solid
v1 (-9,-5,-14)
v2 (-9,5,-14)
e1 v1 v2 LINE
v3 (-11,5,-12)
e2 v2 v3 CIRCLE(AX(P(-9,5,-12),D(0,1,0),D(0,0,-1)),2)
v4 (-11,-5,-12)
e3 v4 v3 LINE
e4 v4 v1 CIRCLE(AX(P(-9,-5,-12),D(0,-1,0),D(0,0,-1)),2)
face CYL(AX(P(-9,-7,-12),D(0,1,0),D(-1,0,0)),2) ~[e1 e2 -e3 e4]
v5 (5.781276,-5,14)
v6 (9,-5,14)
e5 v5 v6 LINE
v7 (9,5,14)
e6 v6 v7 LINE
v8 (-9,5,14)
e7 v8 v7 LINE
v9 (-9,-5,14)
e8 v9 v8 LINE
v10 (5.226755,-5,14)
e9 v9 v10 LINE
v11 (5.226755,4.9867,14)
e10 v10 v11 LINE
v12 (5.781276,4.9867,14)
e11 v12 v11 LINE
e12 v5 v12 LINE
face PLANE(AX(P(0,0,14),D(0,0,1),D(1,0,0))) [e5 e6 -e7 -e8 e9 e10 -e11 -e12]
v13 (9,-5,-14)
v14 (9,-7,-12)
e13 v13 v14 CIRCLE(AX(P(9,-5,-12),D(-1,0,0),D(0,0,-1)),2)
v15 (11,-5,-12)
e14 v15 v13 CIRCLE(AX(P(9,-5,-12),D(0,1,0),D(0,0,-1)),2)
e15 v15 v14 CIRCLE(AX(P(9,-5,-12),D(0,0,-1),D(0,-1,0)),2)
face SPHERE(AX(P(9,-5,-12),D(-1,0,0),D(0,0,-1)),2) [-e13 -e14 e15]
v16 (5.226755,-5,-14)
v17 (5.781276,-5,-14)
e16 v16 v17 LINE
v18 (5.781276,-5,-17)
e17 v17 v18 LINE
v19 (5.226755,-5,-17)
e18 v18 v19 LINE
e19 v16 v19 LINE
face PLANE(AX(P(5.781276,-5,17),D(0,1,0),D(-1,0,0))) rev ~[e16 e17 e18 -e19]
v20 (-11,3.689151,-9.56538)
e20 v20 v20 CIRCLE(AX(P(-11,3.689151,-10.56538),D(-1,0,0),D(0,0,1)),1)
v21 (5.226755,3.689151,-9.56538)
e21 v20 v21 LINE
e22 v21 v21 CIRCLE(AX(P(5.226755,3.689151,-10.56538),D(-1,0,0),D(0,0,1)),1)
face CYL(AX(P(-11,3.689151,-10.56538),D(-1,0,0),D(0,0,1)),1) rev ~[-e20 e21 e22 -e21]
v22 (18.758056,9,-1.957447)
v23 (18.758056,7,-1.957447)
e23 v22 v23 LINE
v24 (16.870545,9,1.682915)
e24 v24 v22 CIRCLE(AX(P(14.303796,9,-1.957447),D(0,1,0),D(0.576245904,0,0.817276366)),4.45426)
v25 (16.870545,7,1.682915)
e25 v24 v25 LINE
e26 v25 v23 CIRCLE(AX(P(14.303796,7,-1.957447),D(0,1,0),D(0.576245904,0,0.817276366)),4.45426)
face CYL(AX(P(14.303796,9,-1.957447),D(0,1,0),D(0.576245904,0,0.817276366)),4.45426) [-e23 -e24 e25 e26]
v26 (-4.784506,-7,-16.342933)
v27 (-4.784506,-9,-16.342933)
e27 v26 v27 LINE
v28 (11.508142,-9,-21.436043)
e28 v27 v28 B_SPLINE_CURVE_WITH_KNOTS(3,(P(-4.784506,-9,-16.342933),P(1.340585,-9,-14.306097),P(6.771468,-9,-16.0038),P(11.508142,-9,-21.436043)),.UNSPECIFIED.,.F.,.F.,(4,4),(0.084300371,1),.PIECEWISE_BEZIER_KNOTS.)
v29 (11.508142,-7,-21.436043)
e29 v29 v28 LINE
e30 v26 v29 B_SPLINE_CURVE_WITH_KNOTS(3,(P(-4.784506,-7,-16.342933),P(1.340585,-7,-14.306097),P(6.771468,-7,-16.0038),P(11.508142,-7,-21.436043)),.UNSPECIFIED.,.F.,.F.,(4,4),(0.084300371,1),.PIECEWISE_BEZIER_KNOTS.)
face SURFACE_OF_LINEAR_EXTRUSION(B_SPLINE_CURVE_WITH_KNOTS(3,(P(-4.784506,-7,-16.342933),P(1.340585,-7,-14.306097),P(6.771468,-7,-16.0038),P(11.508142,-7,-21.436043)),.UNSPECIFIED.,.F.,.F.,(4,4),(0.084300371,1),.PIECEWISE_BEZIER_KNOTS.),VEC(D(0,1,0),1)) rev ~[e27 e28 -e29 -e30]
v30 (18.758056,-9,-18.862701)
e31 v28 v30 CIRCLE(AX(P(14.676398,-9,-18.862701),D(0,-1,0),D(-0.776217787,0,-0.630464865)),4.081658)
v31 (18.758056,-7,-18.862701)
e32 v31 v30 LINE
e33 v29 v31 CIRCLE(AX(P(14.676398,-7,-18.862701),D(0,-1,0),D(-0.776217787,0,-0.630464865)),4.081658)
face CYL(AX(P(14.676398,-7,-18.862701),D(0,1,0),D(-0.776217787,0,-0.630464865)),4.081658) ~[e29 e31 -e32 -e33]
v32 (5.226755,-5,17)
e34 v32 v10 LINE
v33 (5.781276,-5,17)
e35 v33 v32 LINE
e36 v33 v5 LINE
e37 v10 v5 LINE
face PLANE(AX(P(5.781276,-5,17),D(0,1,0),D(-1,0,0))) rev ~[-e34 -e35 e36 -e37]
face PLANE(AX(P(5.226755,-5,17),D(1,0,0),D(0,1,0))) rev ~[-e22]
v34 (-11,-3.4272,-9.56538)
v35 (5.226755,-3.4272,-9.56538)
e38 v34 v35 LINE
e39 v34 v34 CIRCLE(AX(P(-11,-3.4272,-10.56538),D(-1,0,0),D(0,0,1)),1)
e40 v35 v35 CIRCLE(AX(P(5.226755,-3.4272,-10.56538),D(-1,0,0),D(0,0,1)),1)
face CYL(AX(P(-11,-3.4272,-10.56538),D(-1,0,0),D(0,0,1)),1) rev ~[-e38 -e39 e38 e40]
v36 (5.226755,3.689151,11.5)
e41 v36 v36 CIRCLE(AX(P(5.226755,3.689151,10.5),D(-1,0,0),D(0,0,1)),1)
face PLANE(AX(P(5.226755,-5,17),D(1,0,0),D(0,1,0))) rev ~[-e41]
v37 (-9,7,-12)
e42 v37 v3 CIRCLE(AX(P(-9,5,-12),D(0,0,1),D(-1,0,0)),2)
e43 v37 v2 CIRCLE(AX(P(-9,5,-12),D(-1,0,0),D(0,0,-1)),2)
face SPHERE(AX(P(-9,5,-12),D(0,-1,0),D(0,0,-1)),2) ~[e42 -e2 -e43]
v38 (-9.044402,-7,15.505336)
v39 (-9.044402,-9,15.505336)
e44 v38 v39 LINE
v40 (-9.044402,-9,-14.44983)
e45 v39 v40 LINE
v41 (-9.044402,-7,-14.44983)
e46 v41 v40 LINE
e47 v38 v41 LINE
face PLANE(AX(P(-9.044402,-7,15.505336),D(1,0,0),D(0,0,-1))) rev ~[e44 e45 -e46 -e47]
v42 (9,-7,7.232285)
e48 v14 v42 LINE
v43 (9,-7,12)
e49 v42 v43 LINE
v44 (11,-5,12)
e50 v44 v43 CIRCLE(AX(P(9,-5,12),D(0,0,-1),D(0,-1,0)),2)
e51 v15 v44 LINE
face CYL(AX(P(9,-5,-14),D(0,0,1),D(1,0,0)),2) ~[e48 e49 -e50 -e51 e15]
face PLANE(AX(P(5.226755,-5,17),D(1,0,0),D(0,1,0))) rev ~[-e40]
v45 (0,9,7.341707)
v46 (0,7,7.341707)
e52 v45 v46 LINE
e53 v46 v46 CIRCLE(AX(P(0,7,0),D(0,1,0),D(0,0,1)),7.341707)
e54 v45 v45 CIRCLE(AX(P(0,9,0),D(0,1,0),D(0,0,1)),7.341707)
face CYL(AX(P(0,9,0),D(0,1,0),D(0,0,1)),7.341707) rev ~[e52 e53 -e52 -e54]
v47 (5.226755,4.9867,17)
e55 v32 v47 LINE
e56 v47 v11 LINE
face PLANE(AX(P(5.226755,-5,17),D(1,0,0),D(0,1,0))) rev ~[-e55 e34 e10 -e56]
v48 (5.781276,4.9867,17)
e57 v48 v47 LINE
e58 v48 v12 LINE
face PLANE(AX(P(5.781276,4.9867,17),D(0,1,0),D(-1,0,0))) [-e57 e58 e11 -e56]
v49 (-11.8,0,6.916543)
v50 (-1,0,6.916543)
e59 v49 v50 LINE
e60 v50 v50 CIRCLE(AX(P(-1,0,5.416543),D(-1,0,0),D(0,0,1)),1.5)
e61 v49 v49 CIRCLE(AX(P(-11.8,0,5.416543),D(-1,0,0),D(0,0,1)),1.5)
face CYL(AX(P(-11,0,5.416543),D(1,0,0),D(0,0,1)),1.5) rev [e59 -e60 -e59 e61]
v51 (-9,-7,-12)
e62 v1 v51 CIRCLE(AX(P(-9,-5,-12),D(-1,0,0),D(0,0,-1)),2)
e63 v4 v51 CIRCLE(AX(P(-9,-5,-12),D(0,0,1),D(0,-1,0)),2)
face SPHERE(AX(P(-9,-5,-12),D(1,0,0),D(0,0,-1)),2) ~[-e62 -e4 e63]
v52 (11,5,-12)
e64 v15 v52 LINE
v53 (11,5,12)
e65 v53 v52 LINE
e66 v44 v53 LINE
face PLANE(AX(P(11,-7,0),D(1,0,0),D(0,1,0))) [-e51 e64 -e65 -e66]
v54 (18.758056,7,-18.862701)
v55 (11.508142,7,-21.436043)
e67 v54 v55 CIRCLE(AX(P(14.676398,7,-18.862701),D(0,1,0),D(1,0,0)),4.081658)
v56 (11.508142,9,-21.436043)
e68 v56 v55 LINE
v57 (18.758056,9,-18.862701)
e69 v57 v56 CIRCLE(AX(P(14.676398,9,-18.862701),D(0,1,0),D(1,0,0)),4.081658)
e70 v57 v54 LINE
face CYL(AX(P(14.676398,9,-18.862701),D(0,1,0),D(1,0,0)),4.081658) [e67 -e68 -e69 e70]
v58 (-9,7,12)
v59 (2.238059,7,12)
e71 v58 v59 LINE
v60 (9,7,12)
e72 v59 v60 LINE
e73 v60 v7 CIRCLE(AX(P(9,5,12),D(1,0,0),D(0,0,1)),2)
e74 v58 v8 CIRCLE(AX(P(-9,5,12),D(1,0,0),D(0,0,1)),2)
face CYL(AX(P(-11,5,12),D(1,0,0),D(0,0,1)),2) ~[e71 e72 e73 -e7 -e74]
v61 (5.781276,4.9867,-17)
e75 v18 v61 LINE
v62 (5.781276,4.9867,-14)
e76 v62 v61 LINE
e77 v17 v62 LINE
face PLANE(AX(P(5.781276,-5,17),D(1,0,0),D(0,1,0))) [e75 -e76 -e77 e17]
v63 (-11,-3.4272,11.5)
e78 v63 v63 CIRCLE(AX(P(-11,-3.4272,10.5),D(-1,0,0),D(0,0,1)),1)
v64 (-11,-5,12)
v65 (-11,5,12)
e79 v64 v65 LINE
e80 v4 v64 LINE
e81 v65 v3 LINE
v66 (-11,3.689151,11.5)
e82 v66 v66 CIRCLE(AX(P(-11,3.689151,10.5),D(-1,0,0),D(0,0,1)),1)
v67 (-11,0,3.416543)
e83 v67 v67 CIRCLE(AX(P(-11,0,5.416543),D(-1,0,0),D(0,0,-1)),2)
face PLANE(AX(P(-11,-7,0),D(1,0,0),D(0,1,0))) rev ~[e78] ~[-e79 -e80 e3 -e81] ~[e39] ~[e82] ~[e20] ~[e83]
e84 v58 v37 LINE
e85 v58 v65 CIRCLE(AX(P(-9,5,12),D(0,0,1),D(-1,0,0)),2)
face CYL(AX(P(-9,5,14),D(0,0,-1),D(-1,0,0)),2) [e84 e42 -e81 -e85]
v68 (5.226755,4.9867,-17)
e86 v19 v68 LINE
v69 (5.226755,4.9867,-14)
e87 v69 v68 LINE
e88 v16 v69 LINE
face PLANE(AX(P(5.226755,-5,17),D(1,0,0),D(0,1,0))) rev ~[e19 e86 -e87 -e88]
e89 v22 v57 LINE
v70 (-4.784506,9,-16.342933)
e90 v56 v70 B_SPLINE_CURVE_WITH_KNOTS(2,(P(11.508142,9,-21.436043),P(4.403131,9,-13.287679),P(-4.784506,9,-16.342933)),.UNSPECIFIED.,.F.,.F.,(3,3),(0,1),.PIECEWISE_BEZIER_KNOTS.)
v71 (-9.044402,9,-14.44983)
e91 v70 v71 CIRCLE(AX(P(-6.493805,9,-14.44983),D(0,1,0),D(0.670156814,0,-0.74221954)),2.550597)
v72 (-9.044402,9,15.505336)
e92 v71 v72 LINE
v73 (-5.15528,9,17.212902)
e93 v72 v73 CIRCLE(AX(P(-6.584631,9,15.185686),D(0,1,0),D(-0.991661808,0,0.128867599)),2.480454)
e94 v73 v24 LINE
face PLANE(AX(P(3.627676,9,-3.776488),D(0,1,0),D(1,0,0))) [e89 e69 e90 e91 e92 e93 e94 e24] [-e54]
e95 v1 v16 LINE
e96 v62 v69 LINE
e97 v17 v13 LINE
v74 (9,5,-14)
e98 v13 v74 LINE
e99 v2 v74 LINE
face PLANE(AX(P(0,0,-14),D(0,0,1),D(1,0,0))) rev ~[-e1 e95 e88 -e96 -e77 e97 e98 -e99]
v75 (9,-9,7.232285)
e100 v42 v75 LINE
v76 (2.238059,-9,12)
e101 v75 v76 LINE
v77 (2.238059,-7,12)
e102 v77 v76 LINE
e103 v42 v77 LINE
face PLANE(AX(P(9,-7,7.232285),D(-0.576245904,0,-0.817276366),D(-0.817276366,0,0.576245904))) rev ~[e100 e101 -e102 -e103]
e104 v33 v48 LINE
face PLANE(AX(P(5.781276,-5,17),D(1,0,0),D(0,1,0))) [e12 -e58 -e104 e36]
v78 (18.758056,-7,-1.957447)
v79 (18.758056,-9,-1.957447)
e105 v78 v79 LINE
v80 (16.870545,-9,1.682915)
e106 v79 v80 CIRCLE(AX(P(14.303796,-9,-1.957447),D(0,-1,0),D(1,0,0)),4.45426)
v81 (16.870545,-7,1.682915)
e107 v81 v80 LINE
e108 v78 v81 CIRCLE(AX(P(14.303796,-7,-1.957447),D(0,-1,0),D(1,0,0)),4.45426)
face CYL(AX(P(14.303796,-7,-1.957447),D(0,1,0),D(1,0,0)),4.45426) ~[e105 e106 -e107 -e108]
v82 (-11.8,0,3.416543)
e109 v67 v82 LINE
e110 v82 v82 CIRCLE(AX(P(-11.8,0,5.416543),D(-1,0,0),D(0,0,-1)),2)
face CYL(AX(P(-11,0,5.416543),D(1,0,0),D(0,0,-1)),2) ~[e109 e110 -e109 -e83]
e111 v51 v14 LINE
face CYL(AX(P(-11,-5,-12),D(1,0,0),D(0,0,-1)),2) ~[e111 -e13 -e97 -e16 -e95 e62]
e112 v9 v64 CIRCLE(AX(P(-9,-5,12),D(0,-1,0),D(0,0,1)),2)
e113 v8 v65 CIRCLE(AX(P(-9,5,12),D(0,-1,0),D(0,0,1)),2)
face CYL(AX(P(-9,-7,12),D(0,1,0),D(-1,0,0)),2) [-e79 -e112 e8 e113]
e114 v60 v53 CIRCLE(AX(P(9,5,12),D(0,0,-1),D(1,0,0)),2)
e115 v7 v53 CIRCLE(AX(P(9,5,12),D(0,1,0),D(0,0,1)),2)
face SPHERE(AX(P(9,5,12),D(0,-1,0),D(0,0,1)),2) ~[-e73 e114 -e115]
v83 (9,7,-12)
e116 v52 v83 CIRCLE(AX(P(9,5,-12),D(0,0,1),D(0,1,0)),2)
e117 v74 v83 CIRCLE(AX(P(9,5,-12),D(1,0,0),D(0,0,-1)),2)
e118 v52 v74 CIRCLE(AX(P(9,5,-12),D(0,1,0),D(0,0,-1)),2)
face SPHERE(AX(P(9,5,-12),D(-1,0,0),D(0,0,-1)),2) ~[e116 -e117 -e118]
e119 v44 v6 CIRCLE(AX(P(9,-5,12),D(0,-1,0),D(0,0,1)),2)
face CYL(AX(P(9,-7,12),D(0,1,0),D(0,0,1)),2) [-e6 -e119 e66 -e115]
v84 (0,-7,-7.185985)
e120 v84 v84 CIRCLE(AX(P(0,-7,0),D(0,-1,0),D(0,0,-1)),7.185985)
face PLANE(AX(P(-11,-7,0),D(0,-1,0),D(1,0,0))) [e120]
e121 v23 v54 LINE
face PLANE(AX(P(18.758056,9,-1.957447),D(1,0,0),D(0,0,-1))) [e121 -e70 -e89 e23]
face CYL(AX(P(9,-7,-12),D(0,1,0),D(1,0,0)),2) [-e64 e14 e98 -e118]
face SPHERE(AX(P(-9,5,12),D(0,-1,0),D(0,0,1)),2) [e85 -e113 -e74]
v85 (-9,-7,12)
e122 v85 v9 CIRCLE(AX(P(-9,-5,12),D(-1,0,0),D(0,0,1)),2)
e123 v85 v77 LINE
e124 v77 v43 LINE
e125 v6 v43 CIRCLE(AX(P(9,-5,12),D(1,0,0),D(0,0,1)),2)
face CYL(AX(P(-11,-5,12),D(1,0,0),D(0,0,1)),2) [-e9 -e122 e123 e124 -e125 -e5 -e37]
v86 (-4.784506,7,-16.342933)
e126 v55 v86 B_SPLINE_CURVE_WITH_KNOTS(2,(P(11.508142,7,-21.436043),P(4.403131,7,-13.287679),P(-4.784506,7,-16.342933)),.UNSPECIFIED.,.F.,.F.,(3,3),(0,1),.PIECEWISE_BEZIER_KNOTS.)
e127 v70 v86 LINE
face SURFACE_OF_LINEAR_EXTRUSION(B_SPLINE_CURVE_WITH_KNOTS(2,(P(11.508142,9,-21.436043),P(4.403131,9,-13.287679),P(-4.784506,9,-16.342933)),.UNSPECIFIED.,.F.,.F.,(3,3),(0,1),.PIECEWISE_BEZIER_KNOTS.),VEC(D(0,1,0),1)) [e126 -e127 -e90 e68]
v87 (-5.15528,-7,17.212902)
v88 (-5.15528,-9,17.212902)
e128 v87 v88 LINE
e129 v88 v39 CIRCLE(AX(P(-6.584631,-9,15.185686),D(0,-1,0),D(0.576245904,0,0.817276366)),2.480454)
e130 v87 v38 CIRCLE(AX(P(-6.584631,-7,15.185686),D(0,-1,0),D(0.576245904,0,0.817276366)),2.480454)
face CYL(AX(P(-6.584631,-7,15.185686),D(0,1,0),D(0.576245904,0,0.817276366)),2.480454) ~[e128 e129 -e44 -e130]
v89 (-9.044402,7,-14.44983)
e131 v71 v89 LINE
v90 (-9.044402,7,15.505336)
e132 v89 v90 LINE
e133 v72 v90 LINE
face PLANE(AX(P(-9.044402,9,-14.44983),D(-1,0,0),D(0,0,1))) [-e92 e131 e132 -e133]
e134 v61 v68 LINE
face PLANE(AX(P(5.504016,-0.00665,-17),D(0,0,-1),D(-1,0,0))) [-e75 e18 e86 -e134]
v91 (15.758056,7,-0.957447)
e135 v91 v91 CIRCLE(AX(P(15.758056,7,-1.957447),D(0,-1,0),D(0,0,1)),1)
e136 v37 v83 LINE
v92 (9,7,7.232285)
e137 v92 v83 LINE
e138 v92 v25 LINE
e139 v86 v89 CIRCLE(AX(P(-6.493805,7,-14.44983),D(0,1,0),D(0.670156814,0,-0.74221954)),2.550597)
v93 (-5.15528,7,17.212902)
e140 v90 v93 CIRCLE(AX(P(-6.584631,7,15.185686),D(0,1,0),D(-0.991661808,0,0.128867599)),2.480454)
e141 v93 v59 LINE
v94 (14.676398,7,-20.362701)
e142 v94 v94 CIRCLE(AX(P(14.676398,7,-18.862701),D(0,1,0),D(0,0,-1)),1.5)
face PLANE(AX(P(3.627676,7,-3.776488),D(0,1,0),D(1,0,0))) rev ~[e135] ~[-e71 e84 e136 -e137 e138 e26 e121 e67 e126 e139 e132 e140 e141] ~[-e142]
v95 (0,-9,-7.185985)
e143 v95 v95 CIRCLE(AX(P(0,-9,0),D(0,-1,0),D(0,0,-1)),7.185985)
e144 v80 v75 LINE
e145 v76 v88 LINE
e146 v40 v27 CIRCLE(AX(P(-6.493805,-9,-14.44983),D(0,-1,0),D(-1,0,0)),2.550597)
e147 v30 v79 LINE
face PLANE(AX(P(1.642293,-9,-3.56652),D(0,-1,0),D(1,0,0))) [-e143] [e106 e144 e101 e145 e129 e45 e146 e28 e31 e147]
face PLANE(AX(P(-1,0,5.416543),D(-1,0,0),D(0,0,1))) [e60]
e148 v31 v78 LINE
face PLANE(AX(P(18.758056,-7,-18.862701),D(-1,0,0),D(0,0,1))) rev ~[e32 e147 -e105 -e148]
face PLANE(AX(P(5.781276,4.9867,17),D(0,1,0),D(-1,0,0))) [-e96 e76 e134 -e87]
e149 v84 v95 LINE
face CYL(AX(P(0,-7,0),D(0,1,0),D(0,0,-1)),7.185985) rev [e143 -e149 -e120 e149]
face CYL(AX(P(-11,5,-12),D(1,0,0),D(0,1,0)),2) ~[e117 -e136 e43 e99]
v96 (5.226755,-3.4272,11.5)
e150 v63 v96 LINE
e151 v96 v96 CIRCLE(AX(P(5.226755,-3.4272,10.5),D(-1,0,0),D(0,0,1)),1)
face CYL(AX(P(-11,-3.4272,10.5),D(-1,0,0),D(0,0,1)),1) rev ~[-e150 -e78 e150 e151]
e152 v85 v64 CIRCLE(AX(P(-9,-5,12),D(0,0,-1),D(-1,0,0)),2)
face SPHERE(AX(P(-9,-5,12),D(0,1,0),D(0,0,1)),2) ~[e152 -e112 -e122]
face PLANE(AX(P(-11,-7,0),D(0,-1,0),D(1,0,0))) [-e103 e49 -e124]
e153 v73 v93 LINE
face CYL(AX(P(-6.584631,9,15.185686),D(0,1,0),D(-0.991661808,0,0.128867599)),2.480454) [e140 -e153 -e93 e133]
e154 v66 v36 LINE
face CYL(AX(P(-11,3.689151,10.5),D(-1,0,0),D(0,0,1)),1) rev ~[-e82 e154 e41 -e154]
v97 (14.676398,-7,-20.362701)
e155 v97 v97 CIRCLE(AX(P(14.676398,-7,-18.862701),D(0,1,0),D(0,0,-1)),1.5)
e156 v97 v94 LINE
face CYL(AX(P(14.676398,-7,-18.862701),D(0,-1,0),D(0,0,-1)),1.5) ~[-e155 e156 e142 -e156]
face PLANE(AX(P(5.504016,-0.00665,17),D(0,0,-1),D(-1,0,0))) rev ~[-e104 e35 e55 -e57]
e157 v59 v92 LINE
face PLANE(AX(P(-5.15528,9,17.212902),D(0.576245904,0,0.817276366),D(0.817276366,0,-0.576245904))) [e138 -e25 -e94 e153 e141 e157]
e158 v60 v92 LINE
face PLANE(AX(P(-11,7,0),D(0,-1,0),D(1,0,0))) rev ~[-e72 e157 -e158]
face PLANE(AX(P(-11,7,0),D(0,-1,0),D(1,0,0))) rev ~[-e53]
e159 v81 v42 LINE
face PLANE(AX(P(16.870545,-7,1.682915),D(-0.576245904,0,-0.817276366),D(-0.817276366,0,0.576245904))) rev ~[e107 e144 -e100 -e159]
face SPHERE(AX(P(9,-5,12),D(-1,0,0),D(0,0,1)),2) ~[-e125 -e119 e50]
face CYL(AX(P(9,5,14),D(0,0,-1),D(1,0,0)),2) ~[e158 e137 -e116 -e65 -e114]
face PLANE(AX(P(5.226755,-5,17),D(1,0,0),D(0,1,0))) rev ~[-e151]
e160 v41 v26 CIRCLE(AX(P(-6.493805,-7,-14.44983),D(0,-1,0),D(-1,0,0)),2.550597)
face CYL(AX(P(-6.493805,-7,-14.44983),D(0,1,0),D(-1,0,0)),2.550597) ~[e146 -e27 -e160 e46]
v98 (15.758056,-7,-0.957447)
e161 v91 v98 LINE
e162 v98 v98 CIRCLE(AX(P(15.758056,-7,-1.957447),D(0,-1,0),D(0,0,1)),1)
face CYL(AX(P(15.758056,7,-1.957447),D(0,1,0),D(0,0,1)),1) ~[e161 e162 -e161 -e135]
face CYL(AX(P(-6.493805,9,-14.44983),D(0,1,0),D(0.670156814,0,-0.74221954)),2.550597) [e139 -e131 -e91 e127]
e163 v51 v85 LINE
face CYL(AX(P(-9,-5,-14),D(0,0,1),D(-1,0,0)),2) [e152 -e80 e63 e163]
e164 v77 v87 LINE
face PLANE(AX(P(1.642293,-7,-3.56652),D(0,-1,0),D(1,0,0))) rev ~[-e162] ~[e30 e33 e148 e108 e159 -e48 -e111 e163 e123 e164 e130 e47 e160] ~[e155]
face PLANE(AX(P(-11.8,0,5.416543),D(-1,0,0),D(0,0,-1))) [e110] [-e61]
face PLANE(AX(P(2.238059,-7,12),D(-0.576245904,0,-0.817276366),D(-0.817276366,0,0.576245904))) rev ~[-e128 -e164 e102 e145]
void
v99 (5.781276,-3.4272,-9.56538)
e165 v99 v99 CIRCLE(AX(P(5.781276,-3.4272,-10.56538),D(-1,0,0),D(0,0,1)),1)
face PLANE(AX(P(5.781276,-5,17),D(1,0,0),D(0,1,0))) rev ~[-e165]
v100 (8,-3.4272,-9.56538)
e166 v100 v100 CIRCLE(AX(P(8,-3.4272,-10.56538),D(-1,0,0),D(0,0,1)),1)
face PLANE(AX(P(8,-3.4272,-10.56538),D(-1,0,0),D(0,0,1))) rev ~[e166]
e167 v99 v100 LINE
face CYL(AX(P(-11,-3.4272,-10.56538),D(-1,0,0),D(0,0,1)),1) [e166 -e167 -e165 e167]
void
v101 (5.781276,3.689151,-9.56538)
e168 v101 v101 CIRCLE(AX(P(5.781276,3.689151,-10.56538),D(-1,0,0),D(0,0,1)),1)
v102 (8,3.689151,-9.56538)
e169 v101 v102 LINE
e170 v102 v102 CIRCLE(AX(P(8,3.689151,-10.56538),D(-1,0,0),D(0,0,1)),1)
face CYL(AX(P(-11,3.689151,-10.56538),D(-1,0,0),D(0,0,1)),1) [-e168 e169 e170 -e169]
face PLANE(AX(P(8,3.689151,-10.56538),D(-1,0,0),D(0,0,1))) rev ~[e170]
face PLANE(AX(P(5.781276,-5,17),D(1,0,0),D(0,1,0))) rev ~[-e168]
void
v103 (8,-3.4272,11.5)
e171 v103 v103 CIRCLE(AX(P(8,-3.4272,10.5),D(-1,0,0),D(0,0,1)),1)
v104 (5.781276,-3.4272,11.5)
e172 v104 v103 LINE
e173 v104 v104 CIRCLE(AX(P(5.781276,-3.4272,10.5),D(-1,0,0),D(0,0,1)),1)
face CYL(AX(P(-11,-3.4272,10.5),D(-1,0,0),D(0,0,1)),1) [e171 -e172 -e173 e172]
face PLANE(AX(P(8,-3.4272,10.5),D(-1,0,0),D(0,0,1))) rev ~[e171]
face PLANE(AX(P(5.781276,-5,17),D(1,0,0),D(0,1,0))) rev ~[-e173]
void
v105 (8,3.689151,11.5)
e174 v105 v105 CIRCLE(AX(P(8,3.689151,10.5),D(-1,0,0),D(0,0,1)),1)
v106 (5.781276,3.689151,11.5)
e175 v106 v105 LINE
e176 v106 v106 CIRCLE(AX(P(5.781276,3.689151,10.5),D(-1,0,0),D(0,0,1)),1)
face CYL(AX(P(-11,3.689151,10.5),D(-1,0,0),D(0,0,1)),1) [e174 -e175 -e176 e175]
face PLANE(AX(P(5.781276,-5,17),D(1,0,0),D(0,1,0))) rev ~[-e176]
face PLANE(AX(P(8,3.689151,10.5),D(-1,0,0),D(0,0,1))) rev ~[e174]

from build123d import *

# Parameters (mm, degrees)
SKETCH1_W                = 22
SKETCH1_H                = 14
BOSS_EXTRUDE1_DEPTH      = 14
FILLET1_R                = 2
SKETCH2_R                = 1
CUT_EXTRUDE1_DEPTH       = 19
BOSS_EXTRUDE2_DEPTH      = 3
BOSS_EXTRUDE2_DEPTH_BACK = 31
SKETCH3_W                = 0.554521252
SKETCH3_H                = 9.98669991
SKETCH4_R                = 2
SKETCH4_R_2              = 1.5
BOSS_EXTRUDE3_DEPTH      = 0.8
CUT_EXTRUDE2_START       = -10
SKETCH4_2_R              = 1.5
CUT_EXTRUDE2_DEPTH       = 10
SKETCH5_R                = 7.185985437
BOSS_EXTRUDE5_DEPTH      = 2
BOSS_EXTRUDE6_START      = 2
SKETCH6_R                = 7.341706918
BOSS_EXTRUDE6_DEPTH      = 2
SKETCH7_R                = 1.5
BOSS_EXTRUDE7_DEPTH      = 14
SKETCH8_R                = 1
BOSS_EXTRUDE8_DEPTH      = 14


with BuildPart() as part:
    # Sketch1 → Boss-Extrude1 (new, symmetric)
    with BuildSketch(Plane.XY):
        Rectangle(SKETCH1_W, SKETCH1_H)
    extrude(amount=BOSS_EXTRUDE1_DEPTH, both=True)

    # Fillet1
    fillet1_edges = [part.edges().sort_by_distance(p)[0] for p in [
        (-11, 0, 14),
        (0, -7, 14),
        (11, 0, 14),
        (0, -7, -14),
        (-11, 0, -14),
        (0, 7, -14),
        (11, 0, -14),
        (0, 7, 14),
        (11, -7, 0),
        (-11, -7, 0),
        (-11, 7, 0),
        (11, 7, 0),
    ]]
    fillet(fillet1_edges, radius=FILLET1_R)

    # Sketch2 → Cut-Extrude1 (cut)
    with BuildSketch(Plane.ZY.offset(11)):
        with Locations((-10.565380275, 3.689151377)):
            Circle(SKETCH2_R)
        with Locations((10.5, 3.689151377)):
            Circle(SKETCH2_R)
        with Locations((10.5, -3.4271998)):
            Circle(SKETCH2_R)
        with Locations((-10.565380275, -3.4271998)):
            Circle(SKETCH2_R)
    extrude(amount=-CUT_EXTRUDE1_DEPTH, mode=Mode.SUBTRACT)

    # Sketch3 → Boss-Extrude2 (add, two sides: drawn at the far end of the back side and taken through both)
    with BuildSketch(Plane(origin=(0, 0, -14), x_dir=(-1, 0, 0), z_dir=(0, 0, -1)).offset(-BOSS_EXTRUDE2_DEPTH_BACK)):
        with Locations((-5.504015561, -0.006650045)):
            Rectangle(SKETCH3_W, SKETCH3_H)
    extrude(amount=BOSS_EXTRUDE2_DEPTH + BOSS_EXTRUDE2_DEPTH_BACK)

    # Sketch4 → Boss-Extrude3 (add)
    with BuildSketch(Plane.ZY.offset(11)):
        with Locations(Location((5.416543399, 0, 0), (0, 0, 180))):
            Circle(SKETCH4_R)
        with Locations((5.416543399, 0)):
            Circle(SKETCH4_R_2, mode=Mode.SUBTRACT)
    extrude(amount=BOSS_EXTRUDE3_DEPTH)

    # Sketch4<2> → Cut-Extrude2 (cut)
    with BuildSketch(Plane.ZY.offset(11).offset(CUT_EXTRUDE2_START)):
        with Locations((5.416543399, 0)):
            Circle(SKETCH4_2_R)
    extrude(amount=CUT_EXTRUDE2_DEPTH, mode=Mode.SUBTRACT)

    # Sketch5 → Boss-Extrude5 (add)
    # profile 1 of 2: a face of its own
    with BuildSketch(Plane.XZ.offset(7)):
        with BuildLine():
            Line((2.238059124, 12), (-5.155279816, 17.212901612))
            ThreePointArc((-5.155279816, 17.212901612), (-7.581820377, 17.456866553), (-9.044402043, 15.505335653))
            Line((-9.044402043, 15.505335653), (-9.044402043, 14.86603547))
            Line((-9.044402043, 14.86603547), (-9.044402043, -14.449829967))
            ThreePointArc((-9.044402043, -14.449829967), (-7.529616483, -16.780632089), (-4.78450574, -16.342932608))
            add(Edge.make_bspline(
                [(-4.78450574, -16.342932608), (1.340585112, -14.306096739), (6.77146781, -16.003800215), (11.508142355, -21.436043034)],
                knots=[0.084300371, 0.084300371, 0.084300371, 0.084300371, 1, 1, 1, 1], degree=3))
            ThreePointArc((11.508142355, -21.436043034), (16.041717565, -22.709236327), (18.758055645, -18.862701162))
            Line((18.758055645, -18.862701162), (18.758055645, -1.957446637))
            ThreePointArc((18.758055645, -1.957446637), (18.258122382, 0.092853884), (16.870544719, 1.682914803))
            Line((16.870544719, 1.682914803), (9, 7.232285064))
            Line((9, 7.232285064), (9, -12))
            Line((9, -12), (-9, -12))
            Line((-9, -12), (-9, 12))
            Line((-9, 12), (2.238059124, 12))
        make_face()
    # profile 2 of 2: a face of its own
    with BuildSketch(Plane.XZ.offset(7)):
        Polygon((9, 7.232285064), (2.238059124, 12), (-9, 12), (-9, -12), (9, -12), align=None)
        with Locations(Location((0, 0, 0), (0, 0, 270))):
            Circle(SKETCH5_R, mode=Mode.SUBTRACT)
    extrude(amount=BOSS_EXTRUDE5_DEPTH)

    # Sketch6 → Boss-Extrude6 (add)
    with BuildSketch(Plane(origin=(0, 7, 0), x_dir=(1, 0, 0), z_dir=(0, 1, 0)).offset(BOSS_EXTRUDE6_START)):
        with BuildLine():
            Line((-5.155279816, -17.212901612), (16.870544719, -1.682914803))
            ThreePointArc((16.870544719, -1.682914803), (18.258122382, -0.092853884), (18.758055645, 1.957446637))
            Line((18.758055645, 1.957446637), (18.758055645, 18.862701162))
            ThreePointArc((18.758055645, 18.862701162), (16.041717554, 22.709236331), (11.50814234, 21.436043017))
            add(Edge.make_bspline(
                [(11.50814234, 21.436043017), (4.403130528, 13.287678808), (-4.78450574, 16.342932608)],
                knots=[0, 0, 0, 1, 1, 1], degree=2))
            ThreePointArc((-4.78450574, 16.342932608), (-7.529616483, 16.780632089), (-9.044402043, 14.449829967))
            Line((-9.044402043, 14.449829967), (-9.044402043, -15.505335653))
            ThreePointArc((-9.044402043, -15.505335653), (-7.581820377, -17.456866553), (-5.155279816, -17.212901612))
        make_face()
        with Locations(Location((0, 0, 0), (0, 0, 270))):
            Circle(SKETCH6_R, mode=Mode.SUBTRACT)
    extrude(amount=-BOSS_EXTRUDE6_DEPTH)

    # Sketch7 → Boss-Extrude7 (add)
    with BuildSketch(Plane(origin=(0, -7, 0), x_dir=(1, 0, 0), z_dir=(0, 1, 0))):
        with Locations(Location((14.676397787, 18.862701162, 0), (0, 0, 90))):
            Circle(SKETCH7_R)
    extrude(amount=BOSS_EXTRUDE7_DEPTH)

    # Sketch8 → Boss-Extrude8 (add)
    with BuildSketch(Plane.XZ.offset(-7)):
        with Locations(Location((15.758055645, -1.957446637, 0), (0, 0, 90))):
            Circle(SKETCH8_R)
    extrude(amount=BOSS_EXTRUDE8_DEPTH)


solid = part.part
